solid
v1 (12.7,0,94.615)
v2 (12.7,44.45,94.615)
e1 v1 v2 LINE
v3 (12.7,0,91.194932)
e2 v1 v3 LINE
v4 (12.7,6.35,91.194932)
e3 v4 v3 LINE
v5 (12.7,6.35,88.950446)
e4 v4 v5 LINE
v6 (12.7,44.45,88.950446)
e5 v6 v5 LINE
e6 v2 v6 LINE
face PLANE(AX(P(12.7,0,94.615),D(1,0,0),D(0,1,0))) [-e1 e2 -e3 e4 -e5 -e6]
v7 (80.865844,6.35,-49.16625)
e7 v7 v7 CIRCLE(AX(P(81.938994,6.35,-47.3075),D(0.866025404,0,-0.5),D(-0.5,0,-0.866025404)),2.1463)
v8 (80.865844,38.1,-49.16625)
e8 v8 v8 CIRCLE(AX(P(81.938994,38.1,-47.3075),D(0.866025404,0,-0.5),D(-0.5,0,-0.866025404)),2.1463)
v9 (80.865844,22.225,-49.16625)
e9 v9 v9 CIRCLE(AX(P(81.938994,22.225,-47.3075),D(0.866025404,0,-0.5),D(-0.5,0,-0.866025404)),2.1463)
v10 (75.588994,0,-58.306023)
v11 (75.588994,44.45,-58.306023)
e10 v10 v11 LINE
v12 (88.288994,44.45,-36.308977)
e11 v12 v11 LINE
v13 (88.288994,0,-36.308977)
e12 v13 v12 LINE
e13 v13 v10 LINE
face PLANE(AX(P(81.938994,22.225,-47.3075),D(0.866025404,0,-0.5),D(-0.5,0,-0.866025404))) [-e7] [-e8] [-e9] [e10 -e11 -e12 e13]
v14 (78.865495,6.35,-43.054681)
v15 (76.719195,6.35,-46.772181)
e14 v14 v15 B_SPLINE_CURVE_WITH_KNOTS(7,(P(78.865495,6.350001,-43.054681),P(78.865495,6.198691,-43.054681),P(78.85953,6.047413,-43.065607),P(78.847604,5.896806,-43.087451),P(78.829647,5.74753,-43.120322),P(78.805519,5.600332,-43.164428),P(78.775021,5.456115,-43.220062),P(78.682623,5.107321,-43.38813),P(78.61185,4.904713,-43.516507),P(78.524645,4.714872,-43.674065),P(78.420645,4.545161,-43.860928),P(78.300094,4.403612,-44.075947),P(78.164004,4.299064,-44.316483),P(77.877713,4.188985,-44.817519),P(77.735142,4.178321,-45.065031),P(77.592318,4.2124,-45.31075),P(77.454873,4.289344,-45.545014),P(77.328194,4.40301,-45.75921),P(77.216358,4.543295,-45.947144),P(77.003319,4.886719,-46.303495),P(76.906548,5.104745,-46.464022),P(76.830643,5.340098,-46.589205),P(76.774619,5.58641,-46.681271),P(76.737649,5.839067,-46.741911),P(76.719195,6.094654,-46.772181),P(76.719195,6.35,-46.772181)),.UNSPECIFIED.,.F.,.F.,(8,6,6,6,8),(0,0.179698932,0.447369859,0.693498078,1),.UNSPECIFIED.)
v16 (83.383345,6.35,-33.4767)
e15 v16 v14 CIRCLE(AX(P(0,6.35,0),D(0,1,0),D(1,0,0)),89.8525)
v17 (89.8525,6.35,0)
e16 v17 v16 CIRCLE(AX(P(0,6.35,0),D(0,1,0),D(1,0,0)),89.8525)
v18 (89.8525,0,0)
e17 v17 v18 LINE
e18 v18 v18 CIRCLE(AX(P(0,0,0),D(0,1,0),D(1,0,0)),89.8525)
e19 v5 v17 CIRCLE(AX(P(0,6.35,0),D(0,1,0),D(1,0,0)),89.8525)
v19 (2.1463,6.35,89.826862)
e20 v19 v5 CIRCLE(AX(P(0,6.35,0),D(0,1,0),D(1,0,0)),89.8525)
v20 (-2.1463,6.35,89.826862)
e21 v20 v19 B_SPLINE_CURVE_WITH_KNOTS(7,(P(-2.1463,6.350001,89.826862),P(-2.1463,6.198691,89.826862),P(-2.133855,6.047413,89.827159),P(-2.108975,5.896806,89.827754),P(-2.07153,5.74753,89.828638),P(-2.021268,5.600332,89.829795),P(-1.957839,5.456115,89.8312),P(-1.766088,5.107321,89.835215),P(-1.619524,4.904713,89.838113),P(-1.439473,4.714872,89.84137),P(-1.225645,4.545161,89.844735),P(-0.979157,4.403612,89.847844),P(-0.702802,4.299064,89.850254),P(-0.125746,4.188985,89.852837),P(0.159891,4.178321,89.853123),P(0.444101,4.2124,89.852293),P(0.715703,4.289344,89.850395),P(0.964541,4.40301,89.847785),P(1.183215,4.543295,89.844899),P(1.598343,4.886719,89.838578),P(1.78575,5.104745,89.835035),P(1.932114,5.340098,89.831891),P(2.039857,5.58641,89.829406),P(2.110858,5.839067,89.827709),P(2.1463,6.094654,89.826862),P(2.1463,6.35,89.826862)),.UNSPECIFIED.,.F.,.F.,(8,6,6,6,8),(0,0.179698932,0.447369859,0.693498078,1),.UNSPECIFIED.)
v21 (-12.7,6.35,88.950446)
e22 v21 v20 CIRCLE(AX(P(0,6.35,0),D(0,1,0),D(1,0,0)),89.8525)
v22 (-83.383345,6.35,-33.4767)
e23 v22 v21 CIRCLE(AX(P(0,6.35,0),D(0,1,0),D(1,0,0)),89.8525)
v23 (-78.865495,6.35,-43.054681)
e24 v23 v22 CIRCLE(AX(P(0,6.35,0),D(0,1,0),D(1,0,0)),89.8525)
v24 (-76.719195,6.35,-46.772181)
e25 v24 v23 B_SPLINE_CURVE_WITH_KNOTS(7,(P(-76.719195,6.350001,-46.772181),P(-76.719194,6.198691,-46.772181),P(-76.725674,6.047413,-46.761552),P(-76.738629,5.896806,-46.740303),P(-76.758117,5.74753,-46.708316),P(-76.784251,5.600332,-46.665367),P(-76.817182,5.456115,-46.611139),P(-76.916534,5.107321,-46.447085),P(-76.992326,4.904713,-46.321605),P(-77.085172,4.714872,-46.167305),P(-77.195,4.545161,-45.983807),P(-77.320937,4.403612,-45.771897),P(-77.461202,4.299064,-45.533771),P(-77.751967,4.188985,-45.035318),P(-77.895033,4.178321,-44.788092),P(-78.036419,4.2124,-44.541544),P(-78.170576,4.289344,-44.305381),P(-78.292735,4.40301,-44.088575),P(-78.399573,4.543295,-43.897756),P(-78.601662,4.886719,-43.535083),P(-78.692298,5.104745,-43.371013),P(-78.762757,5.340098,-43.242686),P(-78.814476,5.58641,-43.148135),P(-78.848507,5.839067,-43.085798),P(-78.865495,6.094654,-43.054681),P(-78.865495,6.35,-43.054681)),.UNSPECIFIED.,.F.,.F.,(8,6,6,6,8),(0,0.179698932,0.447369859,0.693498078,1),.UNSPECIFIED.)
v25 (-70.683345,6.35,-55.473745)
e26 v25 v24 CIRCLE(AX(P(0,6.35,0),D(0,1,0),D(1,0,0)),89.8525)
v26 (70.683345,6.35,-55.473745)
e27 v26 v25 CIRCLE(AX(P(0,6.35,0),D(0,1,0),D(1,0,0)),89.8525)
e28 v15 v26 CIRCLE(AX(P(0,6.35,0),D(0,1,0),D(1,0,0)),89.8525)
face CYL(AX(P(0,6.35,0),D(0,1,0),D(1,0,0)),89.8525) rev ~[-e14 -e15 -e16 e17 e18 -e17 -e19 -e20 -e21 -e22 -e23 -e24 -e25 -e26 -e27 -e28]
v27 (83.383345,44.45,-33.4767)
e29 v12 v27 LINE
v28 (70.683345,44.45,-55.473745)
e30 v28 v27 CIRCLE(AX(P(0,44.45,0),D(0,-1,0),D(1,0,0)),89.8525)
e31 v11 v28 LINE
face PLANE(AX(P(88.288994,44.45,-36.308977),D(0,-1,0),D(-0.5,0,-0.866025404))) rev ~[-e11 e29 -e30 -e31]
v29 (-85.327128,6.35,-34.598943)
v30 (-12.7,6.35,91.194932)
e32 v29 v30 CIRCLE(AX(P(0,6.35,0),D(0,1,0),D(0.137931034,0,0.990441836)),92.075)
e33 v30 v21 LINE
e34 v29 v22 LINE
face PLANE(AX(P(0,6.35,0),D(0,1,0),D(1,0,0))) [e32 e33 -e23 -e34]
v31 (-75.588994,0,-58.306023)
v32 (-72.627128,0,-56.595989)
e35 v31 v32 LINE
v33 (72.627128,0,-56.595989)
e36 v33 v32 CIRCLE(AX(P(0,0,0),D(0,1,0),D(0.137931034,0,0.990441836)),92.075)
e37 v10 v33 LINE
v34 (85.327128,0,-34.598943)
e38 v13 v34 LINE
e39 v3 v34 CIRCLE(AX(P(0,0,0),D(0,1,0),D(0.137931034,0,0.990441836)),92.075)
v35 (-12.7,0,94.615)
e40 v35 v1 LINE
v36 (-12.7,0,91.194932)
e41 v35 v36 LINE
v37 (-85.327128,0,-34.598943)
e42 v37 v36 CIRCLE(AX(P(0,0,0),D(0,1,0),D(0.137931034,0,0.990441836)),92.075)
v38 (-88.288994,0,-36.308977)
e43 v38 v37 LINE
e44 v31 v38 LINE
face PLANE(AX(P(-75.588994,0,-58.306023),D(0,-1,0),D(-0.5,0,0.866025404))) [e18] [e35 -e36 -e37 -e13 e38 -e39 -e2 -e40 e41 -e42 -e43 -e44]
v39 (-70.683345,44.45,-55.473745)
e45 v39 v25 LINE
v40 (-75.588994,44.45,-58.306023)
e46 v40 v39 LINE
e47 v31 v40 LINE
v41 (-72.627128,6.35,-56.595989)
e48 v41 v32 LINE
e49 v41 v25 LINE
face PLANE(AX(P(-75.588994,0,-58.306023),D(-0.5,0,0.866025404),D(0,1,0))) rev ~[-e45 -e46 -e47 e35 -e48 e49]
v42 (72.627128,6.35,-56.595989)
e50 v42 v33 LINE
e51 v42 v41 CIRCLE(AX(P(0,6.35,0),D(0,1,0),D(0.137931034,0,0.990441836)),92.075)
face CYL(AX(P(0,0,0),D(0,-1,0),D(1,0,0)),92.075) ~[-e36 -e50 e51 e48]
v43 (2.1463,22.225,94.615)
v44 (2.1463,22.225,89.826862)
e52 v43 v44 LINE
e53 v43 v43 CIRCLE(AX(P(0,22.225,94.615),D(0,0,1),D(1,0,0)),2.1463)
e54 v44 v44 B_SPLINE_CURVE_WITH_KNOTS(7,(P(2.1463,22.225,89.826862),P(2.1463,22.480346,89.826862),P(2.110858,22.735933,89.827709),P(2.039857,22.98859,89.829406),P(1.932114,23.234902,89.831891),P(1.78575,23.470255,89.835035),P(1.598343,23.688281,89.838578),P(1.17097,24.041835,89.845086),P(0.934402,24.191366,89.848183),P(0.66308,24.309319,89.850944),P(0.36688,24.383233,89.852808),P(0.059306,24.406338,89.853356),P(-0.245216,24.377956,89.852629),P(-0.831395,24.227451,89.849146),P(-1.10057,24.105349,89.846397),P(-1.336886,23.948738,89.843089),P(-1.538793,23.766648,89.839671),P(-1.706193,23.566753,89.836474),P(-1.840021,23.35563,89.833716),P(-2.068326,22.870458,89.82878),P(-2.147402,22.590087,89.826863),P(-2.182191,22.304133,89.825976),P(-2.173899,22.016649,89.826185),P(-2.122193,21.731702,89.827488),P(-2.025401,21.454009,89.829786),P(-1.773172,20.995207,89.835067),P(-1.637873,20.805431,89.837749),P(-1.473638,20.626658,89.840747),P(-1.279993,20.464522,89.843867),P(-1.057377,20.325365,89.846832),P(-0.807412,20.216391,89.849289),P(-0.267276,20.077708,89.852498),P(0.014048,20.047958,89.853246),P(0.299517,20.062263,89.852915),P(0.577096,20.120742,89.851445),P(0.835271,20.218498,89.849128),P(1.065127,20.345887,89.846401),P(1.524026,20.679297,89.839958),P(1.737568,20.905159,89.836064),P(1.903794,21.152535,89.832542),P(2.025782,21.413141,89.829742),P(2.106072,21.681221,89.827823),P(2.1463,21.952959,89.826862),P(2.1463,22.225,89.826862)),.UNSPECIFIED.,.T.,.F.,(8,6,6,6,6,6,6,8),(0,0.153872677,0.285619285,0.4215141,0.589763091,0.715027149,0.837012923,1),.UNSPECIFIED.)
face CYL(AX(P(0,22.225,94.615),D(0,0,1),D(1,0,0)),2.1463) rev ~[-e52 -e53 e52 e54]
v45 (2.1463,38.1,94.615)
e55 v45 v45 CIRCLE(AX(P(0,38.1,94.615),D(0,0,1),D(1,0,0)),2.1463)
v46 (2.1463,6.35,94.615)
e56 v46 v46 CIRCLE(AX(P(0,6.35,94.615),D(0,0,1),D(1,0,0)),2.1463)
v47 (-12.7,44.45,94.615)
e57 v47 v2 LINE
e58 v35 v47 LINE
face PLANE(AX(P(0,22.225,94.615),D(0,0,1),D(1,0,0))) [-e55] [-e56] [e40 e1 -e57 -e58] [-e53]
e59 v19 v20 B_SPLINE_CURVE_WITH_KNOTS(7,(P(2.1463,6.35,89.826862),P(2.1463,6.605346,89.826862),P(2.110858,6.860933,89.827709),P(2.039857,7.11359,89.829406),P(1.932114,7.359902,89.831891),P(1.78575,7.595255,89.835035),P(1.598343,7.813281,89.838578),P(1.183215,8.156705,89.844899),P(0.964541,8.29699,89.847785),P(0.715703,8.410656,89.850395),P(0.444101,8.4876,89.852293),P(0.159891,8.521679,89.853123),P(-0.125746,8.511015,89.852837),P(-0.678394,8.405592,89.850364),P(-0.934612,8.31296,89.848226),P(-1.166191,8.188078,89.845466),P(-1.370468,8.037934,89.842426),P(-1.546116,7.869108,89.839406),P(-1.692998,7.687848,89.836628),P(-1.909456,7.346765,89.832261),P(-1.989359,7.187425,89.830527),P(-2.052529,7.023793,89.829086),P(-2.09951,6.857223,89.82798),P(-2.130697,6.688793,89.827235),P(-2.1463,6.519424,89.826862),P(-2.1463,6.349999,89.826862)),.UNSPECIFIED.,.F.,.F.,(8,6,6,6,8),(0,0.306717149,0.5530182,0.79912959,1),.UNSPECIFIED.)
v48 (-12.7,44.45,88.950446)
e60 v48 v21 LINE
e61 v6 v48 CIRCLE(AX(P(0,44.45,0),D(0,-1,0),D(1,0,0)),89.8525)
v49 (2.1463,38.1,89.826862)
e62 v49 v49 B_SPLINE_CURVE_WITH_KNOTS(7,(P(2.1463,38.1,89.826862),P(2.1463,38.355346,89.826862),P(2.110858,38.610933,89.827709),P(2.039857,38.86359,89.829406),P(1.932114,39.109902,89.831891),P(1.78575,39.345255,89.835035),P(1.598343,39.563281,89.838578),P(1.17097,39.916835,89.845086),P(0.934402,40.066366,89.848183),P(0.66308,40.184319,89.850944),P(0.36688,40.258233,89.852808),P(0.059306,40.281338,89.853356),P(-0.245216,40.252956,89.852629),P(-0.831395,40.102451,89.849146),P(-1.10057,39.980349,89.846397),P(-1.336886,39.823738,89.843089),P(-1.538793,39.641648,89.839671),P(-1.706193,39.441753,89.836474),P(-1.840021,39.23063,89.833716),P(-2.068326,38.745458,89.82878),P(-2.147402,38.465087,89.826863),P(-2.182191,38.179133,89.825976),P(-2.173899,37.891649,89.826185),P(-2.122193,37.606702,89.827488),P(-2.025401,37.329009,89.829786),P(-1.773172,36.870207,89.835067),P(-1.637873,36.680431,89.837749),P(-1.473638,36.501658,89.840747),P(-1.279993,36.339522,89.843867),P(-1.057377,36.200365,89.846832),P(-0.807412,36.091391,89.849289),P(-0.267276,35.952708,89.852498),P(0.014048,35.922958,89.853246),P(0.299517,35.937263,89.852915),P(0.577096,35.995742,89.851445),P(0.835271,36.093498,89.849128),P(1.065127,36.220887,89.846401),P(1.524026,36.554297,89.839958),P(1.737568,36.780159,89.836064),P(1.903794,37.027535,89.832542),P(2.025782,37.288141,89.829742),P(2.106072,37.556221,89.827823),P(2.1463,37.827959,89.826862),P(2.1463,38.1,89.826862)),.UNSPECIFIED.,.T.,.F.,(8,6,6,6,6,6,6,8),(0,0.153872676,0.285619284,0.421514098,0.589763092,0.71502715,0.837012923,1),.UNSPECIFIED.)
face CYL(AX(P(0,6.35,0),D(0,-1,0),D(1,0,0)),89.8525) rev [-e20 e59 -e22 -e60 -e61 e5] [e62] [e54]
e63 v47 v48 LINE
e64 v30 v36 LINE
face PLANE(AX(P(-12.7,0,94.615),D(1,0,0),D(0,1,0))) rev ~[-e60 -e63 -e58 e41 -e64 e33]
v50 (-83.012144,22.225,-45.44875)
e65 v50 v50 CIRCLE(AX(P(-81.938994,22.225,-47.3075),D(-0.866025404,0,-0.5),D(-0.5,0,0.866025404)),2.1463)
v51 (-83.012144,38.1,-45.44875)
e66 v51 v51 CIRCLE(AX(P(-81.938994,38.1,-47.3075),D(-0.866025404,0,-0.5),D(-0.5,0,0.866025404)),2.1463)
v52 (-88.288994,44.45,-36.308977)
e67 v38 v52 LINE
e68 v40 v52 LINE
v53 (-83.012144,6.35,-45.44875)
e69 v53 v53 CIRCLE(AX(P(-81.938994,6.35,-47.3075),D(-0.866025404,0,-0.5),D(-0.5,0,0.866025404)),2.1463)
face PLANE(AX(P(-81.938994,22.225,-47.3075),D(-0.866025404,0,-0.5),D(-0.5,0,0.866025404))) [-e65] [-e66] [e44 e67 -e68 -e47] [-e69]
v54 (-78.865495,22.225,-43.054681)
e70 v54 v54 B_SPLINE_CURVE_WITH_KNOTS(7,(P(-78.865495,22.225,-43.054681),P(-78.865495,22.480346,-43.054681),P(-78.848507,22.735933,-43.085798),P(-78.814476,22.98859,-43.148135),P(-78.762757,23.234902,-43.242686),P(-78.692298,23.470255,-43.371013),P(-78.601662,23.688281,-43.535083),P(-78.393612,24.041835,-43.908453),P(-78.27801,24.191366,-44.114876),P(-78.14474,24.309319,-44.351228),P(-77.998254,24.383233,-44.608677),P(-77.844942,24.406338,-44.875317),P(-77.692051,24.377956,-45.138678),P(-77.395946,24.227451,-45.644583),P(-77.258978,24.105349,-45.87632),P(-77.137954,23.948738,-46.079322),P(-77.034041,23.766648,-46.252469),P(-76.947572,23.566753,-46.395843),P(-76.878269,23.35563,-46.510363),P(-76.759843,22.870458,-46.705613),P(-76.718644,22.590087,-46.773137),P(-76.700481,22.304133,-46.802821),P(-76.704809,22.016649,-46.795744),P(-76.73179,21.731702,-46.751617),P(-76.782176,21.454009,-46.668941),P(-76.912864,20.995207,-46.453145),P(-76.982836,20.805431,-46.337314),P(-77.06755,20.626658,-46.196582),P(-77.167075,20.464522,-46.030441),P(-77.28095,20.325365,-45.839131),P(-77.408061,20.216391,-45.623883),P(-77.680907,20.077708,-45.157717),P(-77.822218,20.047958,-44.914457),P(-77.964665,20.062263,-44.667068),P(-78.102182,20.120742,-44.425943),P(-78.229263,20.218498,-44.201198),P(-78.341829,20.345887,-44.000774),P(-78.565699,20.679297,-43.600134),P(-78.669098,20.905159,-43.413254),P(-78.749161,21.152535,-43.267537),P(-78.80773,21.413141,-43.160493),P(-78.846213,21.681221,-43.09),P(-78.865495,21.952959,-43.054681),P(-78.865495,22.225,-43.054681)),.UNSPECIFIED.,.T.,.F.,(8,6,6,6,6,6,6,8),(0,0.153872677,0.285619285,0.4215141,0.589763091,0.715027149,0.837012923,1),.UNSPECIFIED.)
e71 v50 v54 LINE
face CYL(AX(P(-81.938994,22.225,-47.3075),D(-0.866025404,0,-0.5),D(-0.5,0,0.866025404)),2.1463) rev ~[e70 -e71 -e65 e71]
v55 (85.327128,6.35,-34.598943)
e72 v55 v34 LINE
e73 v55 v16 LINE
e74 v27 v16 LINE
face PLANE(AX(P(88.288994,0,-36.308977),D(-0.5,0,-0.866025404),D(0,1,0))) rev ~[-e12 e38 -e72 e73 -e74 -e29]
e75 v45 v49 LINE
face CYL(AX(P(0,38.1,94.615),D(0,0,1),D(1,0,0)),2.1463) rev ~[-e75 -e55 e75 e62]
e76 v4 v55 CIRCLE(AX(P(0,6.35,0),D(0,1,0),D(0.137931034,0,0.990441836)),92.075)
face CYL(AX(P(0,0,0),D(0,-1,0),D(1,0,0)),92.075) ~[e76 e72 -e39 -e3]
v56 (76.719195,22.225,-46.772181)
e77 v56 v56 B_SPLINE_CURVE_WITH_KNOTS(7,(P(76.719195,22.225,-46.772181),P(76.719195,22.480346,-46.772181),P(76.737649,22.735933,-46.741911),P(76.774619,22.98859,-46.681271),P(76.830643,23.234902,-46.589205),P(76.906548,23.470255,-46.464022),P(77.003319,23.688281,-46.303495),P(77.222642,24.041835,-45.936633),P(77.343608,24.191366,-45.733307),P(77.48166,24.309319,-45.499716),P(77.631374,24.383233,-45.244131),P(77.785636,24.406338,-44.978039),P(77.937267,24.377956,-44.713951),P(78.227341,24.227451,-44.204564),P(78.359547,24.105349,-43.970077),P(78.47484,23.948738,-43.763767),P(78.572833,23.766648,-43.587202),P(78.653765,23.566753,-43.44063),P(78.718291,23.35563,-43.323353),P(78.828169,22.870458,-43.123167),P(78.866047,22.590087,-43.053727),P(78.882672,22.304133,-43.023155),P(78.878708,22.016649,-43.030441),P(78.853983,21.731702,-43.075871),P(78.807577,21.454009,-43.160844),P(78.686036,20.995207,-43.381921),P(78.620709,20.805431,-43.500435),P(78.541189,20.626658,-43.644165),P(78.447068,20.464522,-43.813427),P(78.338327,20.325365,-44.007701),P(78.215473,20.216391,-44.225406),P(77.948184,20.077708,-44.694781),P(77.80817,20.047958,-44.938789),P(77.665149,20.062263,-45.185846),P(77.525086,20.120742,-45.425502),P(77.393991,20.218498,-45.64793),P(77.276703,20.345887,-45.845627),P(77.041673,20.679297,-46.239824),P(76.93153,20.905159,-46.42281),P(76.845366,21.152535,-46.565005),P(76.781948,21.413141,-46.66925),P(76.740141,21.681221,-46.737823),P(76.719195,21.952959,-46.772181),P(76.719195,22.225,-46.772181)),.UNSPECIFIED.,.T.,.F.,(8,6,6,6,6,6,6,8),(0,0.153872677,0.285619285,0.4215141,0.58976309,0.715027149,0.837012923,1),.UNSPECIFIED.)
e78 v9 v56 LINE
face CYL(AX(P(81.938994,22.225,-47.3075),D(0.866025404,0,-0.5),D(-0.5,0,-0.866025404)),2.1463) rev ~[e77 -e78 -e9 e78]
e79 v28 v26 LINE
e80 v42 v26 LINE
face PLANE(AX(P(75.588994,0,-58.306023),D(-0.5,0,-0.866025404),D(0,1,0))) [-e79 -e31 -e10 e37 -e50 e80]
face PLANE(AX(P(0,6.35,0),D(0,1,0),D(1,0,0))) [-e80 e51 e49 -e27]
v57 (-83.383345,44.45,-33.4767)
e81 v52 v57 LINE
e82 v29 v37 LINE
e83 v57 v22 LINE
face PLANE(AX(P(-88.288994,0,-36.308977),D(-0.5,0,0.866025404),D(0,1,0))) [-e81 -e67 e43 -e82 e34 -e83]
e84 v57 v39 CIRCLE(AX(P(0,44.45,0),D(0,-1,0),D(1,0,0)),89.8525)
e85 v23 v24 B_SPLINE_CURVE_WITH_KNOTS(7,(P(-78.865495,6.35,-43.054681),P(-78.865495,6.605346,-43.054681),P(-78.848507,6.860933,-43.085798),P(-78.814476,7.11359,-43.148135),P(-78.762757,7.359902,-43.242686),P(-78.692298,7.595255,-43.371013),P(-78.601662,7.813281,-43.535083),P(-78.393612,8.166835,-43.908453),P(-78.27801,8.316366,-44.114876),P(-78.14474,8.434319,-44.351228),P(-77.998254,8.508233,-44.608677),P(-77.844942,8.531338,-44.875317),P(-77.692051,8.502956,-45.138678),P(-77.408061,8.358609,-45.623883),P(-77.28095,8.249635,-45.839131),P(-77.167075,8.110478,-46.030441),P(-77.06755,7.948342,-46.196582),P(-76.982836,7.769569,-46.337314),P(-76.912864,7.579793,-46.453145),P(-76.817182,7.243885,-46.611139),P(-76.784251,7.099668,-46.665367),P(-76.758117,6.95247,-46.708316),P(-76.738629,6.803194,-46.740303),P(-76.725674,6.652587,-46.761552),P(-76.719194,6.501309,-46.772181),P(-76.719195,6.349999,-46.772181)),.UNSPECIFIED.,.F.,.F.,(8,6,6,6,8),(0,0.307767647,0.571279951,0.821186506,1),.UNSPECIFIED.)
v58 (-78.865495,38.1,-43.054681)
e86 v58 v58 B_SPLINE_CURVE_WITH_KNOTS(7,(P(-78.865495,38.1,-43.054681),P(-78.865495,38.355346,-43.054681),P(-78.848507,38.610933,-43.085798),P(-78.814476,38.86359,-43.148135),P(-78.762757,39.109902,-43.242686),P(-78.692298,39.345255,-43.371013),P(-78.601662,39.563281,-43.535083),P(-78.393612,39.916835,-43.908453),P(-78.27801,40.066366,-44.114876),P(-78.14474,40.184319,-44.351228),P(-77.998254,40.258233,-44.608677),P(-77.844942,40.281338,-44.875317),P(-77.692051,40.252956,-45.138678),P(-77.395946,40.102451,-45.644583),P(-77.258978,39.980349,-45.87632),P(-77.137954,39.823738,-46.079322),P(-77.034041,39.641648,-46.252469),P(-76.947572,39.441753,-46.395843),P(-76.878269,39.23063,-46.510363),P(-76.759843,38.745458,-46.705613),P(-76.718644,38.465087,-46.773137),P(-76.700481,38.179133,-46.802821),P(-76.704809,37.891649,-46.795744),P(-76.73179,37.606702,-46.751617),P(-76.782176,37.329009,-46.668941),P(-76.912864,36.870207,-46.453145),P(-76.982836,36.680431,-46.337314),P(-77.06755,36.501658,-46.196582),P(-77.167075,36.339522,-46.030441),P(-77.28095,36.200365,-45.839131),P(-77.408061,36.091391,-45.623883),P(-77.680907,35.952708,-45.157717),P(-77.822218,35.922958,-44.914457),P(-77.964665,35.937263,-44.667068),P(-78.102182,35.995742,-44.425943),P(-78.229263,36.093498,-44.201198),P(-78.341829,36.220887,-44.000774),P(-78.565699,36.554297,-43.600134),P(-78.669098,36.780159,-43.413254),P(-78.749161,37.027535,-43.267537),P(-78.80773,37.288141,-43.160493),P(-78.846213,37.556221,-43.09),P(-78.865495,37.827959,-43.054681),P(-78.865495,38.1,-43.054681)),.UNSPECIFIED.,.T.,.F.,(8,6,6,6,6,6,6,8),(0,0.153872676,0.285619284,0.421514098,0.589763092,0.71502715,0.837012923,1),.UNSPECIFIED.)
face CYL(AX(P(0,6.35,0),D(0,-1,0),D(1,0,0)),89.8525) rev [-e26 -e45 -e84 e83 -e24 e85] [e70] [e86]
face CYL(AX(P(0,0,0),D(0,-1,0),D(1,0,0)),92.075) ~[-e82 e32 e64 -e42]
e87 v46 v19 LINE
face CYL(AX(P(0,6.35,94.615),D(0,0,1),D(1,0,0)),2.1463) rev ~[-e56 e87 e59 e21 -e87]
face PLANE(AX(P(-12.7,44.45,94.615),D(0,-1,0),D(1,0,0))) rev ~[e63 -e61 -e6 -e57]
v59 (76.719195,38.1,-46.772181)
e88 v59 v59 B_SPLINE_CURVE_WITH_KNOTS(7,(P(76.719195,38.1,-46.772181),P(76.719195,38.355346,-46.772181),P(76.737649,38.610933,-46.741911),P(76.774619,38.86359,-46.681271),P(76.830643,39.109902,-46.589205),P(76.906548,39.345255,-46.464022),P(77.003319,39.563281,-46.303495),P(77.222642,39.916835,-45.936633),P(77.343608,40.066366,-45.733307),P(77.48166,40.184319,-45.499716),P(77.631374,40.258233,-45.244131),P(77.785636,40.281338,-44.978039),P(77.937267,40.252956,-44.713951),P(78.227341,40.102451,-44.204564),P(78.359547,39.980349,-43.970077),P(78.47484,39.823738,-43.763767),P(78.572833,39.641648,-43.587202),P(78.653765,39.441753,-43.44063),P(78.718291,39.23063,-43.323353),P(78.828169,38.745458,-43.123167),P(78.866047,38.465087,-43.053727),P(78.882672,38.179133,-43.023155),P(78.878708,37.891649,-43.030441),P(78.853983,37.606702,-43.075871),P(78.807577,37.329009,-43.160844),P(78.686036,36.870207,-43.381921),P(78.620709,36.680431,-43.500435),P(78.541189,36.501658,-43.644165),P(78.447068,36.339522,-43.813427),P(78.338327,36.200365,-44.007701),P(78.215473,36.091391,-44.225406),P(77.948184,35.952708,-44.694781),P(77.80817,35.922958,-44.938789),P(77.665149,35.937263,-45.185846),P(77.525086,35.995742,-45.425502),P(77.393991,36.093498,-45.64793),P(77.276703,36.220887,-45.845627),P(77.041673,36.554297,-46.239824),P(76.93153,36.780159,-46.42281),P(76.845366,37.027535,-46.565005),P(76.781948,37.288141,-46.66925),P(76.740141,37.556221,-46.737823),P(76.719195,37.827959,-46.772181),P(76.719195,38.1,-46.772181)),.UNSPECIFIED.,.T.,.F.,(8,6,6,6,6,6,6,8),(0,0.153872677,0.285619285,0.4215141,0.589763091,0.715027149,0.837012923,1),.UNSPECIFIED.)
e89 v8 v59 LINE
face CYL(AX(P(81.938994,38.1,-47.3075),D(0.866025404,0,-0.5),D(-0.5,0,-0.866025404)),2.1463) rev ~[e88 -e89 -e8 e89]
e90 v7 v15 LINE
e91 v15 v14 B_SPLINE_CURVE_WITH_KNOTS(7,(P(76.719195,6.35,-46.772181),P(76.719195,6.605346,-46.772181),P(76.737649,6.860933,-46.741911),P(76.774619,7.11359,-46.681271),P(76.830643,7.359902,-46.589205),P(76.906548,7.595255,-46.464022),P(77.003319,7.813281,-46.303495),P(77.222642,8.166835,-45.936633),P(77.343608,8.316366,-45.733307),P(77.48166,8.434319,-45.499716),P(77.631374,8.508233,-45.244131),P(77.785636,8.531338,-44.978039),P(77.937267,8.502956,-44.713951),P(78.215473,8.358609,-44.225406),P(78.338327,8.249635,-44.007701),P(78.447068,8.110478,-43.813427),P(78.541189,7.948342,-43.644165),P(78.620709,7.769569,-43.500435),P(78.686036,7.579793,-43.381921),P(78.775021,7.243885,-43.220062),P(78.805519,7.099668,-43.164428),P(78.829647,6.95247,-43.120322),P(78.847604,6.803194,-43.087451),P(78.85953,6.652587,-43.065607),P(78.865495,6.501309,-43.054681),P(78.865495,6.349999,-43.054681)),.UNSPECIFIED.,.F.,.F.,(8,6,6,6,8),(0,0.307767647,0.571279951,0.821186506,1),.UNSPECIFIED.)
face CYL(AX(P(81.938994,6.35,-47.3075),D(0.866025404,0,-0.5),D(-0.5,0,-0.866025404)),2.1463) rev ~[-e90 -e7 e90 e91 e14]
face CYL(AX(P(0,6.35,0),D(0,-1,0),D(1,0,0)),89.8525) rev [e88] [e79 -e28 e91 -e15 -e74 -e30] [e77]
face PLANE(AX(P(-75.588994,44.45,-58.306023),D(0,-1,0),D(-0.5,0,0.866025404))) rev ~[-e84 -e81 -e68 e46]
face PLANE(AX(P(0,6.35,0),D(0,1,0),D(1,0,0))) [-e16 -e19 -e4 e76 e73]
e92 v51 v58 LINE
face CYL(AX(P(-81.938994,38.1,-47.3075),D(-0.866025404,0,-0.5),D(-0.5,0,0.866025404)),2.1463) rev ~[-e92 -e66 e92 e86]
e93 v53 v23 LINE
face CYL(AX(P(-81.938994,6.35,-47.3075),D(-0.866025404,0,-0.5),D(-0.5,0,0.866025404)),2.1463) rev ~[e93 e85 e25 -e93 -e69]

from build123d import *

# Parameters (mm, degrees)
SKETCH1_R               = 92.075
BOSS_EXTRUDE1_DEPTH     = 6.35
BOSS_EXTRUDE4_START     = 94.615
SKETCH2_W               = 25.4
SKETCH2_H               = 44.45
BOSS_EXTRUDE4_DEPTH     = 6.35
SKETCH4_R               = 2.1463
CUT_EXTRUDE2_DEPTH      = 6.35
CIRPATTERN1_COUNT       = 3
SKETCH3_R               = 89.8525
CUT_EXTRUDE1_DEPTH      = 50.8
CUT_EXTRUDE1_DEPTH_BACK = 6.35


with BuildPart() as part:
    # Sketch1 → Boss-Extrude1 (new body)
    with BuildSketch(Plane(origin=(0, 0, 0), x_dir=(1, 0, 0), z_dir=(0, 1, 0))):
        Circle(SKETCH1_R)
    extrude(amount=BOSS_EXTRUDE1_DEPTH)

    # Sketch2 → Boss-Extrude4 (add)
    with BuildSketch(Plane.XY.offset(BOSS_EXTRUDE4_START)):
        with Locations((0, 22.225)):
            Rectangle(SKETCH2_W, SKETCH2_H)
    boss_extrude4 = extrude(amount=-BOSS_EXTRUDE4_DEPTH)

    # Sketch4 → Cut-Extrude2 (cut)
    with BuildSketch(Plane.XY.offset(94.615)):
        with Locations((0, 38.1)):
            Circle(SKETCH4_R)
        with Locations((0, 22.225)):
            Circle(SKETCH4_R)
        with Locations((0, 6.35)):
            Circle(SKETCH4_R)
    cut_extrude2 = extrude(amount=-CUT_EXTRUDE2_DEPTH, mode=Mode.SUBTRACT)

    # CirPattern1: Boss-Extrude4, Cut-Extrude2 ×3 about axis
    cirpattern1_axis = Axis((0, 0, 0), (0, 1, 0))
    for i in range(1, CIRPATTERN1_COUNT):
        add(boss_extrude4.rotate(cirpattern1_axis, i * 360 / CIRPATTERN1_COUNT))
        add(cut_extrude2.rotate(cirpattern1_axis, i * 360 / CIRPATTERN1_COUNT), mode=Mode.SUBTRACT)

    # Sketch3 → Cut-Extrude1 (cut, two sides)
    with BuildSketch(Plane(origin=(0, 6.35, 0), x_dir=(1, 0, 0), z_dir=(0, 1, 0))) as cut_extrude1_sk:
        Circle(SKETCH3_R)
    extrude(amount=CUT_EXTRUDE1_DEPTH, mode=Mode.SUBTRACT)
    extrude(cut_extrude1_sk.sketch, amount=-CUT_EXTRUDE1_DEPTH_BACK, mode=Mode.SUBTRACT)


solid = part.part
